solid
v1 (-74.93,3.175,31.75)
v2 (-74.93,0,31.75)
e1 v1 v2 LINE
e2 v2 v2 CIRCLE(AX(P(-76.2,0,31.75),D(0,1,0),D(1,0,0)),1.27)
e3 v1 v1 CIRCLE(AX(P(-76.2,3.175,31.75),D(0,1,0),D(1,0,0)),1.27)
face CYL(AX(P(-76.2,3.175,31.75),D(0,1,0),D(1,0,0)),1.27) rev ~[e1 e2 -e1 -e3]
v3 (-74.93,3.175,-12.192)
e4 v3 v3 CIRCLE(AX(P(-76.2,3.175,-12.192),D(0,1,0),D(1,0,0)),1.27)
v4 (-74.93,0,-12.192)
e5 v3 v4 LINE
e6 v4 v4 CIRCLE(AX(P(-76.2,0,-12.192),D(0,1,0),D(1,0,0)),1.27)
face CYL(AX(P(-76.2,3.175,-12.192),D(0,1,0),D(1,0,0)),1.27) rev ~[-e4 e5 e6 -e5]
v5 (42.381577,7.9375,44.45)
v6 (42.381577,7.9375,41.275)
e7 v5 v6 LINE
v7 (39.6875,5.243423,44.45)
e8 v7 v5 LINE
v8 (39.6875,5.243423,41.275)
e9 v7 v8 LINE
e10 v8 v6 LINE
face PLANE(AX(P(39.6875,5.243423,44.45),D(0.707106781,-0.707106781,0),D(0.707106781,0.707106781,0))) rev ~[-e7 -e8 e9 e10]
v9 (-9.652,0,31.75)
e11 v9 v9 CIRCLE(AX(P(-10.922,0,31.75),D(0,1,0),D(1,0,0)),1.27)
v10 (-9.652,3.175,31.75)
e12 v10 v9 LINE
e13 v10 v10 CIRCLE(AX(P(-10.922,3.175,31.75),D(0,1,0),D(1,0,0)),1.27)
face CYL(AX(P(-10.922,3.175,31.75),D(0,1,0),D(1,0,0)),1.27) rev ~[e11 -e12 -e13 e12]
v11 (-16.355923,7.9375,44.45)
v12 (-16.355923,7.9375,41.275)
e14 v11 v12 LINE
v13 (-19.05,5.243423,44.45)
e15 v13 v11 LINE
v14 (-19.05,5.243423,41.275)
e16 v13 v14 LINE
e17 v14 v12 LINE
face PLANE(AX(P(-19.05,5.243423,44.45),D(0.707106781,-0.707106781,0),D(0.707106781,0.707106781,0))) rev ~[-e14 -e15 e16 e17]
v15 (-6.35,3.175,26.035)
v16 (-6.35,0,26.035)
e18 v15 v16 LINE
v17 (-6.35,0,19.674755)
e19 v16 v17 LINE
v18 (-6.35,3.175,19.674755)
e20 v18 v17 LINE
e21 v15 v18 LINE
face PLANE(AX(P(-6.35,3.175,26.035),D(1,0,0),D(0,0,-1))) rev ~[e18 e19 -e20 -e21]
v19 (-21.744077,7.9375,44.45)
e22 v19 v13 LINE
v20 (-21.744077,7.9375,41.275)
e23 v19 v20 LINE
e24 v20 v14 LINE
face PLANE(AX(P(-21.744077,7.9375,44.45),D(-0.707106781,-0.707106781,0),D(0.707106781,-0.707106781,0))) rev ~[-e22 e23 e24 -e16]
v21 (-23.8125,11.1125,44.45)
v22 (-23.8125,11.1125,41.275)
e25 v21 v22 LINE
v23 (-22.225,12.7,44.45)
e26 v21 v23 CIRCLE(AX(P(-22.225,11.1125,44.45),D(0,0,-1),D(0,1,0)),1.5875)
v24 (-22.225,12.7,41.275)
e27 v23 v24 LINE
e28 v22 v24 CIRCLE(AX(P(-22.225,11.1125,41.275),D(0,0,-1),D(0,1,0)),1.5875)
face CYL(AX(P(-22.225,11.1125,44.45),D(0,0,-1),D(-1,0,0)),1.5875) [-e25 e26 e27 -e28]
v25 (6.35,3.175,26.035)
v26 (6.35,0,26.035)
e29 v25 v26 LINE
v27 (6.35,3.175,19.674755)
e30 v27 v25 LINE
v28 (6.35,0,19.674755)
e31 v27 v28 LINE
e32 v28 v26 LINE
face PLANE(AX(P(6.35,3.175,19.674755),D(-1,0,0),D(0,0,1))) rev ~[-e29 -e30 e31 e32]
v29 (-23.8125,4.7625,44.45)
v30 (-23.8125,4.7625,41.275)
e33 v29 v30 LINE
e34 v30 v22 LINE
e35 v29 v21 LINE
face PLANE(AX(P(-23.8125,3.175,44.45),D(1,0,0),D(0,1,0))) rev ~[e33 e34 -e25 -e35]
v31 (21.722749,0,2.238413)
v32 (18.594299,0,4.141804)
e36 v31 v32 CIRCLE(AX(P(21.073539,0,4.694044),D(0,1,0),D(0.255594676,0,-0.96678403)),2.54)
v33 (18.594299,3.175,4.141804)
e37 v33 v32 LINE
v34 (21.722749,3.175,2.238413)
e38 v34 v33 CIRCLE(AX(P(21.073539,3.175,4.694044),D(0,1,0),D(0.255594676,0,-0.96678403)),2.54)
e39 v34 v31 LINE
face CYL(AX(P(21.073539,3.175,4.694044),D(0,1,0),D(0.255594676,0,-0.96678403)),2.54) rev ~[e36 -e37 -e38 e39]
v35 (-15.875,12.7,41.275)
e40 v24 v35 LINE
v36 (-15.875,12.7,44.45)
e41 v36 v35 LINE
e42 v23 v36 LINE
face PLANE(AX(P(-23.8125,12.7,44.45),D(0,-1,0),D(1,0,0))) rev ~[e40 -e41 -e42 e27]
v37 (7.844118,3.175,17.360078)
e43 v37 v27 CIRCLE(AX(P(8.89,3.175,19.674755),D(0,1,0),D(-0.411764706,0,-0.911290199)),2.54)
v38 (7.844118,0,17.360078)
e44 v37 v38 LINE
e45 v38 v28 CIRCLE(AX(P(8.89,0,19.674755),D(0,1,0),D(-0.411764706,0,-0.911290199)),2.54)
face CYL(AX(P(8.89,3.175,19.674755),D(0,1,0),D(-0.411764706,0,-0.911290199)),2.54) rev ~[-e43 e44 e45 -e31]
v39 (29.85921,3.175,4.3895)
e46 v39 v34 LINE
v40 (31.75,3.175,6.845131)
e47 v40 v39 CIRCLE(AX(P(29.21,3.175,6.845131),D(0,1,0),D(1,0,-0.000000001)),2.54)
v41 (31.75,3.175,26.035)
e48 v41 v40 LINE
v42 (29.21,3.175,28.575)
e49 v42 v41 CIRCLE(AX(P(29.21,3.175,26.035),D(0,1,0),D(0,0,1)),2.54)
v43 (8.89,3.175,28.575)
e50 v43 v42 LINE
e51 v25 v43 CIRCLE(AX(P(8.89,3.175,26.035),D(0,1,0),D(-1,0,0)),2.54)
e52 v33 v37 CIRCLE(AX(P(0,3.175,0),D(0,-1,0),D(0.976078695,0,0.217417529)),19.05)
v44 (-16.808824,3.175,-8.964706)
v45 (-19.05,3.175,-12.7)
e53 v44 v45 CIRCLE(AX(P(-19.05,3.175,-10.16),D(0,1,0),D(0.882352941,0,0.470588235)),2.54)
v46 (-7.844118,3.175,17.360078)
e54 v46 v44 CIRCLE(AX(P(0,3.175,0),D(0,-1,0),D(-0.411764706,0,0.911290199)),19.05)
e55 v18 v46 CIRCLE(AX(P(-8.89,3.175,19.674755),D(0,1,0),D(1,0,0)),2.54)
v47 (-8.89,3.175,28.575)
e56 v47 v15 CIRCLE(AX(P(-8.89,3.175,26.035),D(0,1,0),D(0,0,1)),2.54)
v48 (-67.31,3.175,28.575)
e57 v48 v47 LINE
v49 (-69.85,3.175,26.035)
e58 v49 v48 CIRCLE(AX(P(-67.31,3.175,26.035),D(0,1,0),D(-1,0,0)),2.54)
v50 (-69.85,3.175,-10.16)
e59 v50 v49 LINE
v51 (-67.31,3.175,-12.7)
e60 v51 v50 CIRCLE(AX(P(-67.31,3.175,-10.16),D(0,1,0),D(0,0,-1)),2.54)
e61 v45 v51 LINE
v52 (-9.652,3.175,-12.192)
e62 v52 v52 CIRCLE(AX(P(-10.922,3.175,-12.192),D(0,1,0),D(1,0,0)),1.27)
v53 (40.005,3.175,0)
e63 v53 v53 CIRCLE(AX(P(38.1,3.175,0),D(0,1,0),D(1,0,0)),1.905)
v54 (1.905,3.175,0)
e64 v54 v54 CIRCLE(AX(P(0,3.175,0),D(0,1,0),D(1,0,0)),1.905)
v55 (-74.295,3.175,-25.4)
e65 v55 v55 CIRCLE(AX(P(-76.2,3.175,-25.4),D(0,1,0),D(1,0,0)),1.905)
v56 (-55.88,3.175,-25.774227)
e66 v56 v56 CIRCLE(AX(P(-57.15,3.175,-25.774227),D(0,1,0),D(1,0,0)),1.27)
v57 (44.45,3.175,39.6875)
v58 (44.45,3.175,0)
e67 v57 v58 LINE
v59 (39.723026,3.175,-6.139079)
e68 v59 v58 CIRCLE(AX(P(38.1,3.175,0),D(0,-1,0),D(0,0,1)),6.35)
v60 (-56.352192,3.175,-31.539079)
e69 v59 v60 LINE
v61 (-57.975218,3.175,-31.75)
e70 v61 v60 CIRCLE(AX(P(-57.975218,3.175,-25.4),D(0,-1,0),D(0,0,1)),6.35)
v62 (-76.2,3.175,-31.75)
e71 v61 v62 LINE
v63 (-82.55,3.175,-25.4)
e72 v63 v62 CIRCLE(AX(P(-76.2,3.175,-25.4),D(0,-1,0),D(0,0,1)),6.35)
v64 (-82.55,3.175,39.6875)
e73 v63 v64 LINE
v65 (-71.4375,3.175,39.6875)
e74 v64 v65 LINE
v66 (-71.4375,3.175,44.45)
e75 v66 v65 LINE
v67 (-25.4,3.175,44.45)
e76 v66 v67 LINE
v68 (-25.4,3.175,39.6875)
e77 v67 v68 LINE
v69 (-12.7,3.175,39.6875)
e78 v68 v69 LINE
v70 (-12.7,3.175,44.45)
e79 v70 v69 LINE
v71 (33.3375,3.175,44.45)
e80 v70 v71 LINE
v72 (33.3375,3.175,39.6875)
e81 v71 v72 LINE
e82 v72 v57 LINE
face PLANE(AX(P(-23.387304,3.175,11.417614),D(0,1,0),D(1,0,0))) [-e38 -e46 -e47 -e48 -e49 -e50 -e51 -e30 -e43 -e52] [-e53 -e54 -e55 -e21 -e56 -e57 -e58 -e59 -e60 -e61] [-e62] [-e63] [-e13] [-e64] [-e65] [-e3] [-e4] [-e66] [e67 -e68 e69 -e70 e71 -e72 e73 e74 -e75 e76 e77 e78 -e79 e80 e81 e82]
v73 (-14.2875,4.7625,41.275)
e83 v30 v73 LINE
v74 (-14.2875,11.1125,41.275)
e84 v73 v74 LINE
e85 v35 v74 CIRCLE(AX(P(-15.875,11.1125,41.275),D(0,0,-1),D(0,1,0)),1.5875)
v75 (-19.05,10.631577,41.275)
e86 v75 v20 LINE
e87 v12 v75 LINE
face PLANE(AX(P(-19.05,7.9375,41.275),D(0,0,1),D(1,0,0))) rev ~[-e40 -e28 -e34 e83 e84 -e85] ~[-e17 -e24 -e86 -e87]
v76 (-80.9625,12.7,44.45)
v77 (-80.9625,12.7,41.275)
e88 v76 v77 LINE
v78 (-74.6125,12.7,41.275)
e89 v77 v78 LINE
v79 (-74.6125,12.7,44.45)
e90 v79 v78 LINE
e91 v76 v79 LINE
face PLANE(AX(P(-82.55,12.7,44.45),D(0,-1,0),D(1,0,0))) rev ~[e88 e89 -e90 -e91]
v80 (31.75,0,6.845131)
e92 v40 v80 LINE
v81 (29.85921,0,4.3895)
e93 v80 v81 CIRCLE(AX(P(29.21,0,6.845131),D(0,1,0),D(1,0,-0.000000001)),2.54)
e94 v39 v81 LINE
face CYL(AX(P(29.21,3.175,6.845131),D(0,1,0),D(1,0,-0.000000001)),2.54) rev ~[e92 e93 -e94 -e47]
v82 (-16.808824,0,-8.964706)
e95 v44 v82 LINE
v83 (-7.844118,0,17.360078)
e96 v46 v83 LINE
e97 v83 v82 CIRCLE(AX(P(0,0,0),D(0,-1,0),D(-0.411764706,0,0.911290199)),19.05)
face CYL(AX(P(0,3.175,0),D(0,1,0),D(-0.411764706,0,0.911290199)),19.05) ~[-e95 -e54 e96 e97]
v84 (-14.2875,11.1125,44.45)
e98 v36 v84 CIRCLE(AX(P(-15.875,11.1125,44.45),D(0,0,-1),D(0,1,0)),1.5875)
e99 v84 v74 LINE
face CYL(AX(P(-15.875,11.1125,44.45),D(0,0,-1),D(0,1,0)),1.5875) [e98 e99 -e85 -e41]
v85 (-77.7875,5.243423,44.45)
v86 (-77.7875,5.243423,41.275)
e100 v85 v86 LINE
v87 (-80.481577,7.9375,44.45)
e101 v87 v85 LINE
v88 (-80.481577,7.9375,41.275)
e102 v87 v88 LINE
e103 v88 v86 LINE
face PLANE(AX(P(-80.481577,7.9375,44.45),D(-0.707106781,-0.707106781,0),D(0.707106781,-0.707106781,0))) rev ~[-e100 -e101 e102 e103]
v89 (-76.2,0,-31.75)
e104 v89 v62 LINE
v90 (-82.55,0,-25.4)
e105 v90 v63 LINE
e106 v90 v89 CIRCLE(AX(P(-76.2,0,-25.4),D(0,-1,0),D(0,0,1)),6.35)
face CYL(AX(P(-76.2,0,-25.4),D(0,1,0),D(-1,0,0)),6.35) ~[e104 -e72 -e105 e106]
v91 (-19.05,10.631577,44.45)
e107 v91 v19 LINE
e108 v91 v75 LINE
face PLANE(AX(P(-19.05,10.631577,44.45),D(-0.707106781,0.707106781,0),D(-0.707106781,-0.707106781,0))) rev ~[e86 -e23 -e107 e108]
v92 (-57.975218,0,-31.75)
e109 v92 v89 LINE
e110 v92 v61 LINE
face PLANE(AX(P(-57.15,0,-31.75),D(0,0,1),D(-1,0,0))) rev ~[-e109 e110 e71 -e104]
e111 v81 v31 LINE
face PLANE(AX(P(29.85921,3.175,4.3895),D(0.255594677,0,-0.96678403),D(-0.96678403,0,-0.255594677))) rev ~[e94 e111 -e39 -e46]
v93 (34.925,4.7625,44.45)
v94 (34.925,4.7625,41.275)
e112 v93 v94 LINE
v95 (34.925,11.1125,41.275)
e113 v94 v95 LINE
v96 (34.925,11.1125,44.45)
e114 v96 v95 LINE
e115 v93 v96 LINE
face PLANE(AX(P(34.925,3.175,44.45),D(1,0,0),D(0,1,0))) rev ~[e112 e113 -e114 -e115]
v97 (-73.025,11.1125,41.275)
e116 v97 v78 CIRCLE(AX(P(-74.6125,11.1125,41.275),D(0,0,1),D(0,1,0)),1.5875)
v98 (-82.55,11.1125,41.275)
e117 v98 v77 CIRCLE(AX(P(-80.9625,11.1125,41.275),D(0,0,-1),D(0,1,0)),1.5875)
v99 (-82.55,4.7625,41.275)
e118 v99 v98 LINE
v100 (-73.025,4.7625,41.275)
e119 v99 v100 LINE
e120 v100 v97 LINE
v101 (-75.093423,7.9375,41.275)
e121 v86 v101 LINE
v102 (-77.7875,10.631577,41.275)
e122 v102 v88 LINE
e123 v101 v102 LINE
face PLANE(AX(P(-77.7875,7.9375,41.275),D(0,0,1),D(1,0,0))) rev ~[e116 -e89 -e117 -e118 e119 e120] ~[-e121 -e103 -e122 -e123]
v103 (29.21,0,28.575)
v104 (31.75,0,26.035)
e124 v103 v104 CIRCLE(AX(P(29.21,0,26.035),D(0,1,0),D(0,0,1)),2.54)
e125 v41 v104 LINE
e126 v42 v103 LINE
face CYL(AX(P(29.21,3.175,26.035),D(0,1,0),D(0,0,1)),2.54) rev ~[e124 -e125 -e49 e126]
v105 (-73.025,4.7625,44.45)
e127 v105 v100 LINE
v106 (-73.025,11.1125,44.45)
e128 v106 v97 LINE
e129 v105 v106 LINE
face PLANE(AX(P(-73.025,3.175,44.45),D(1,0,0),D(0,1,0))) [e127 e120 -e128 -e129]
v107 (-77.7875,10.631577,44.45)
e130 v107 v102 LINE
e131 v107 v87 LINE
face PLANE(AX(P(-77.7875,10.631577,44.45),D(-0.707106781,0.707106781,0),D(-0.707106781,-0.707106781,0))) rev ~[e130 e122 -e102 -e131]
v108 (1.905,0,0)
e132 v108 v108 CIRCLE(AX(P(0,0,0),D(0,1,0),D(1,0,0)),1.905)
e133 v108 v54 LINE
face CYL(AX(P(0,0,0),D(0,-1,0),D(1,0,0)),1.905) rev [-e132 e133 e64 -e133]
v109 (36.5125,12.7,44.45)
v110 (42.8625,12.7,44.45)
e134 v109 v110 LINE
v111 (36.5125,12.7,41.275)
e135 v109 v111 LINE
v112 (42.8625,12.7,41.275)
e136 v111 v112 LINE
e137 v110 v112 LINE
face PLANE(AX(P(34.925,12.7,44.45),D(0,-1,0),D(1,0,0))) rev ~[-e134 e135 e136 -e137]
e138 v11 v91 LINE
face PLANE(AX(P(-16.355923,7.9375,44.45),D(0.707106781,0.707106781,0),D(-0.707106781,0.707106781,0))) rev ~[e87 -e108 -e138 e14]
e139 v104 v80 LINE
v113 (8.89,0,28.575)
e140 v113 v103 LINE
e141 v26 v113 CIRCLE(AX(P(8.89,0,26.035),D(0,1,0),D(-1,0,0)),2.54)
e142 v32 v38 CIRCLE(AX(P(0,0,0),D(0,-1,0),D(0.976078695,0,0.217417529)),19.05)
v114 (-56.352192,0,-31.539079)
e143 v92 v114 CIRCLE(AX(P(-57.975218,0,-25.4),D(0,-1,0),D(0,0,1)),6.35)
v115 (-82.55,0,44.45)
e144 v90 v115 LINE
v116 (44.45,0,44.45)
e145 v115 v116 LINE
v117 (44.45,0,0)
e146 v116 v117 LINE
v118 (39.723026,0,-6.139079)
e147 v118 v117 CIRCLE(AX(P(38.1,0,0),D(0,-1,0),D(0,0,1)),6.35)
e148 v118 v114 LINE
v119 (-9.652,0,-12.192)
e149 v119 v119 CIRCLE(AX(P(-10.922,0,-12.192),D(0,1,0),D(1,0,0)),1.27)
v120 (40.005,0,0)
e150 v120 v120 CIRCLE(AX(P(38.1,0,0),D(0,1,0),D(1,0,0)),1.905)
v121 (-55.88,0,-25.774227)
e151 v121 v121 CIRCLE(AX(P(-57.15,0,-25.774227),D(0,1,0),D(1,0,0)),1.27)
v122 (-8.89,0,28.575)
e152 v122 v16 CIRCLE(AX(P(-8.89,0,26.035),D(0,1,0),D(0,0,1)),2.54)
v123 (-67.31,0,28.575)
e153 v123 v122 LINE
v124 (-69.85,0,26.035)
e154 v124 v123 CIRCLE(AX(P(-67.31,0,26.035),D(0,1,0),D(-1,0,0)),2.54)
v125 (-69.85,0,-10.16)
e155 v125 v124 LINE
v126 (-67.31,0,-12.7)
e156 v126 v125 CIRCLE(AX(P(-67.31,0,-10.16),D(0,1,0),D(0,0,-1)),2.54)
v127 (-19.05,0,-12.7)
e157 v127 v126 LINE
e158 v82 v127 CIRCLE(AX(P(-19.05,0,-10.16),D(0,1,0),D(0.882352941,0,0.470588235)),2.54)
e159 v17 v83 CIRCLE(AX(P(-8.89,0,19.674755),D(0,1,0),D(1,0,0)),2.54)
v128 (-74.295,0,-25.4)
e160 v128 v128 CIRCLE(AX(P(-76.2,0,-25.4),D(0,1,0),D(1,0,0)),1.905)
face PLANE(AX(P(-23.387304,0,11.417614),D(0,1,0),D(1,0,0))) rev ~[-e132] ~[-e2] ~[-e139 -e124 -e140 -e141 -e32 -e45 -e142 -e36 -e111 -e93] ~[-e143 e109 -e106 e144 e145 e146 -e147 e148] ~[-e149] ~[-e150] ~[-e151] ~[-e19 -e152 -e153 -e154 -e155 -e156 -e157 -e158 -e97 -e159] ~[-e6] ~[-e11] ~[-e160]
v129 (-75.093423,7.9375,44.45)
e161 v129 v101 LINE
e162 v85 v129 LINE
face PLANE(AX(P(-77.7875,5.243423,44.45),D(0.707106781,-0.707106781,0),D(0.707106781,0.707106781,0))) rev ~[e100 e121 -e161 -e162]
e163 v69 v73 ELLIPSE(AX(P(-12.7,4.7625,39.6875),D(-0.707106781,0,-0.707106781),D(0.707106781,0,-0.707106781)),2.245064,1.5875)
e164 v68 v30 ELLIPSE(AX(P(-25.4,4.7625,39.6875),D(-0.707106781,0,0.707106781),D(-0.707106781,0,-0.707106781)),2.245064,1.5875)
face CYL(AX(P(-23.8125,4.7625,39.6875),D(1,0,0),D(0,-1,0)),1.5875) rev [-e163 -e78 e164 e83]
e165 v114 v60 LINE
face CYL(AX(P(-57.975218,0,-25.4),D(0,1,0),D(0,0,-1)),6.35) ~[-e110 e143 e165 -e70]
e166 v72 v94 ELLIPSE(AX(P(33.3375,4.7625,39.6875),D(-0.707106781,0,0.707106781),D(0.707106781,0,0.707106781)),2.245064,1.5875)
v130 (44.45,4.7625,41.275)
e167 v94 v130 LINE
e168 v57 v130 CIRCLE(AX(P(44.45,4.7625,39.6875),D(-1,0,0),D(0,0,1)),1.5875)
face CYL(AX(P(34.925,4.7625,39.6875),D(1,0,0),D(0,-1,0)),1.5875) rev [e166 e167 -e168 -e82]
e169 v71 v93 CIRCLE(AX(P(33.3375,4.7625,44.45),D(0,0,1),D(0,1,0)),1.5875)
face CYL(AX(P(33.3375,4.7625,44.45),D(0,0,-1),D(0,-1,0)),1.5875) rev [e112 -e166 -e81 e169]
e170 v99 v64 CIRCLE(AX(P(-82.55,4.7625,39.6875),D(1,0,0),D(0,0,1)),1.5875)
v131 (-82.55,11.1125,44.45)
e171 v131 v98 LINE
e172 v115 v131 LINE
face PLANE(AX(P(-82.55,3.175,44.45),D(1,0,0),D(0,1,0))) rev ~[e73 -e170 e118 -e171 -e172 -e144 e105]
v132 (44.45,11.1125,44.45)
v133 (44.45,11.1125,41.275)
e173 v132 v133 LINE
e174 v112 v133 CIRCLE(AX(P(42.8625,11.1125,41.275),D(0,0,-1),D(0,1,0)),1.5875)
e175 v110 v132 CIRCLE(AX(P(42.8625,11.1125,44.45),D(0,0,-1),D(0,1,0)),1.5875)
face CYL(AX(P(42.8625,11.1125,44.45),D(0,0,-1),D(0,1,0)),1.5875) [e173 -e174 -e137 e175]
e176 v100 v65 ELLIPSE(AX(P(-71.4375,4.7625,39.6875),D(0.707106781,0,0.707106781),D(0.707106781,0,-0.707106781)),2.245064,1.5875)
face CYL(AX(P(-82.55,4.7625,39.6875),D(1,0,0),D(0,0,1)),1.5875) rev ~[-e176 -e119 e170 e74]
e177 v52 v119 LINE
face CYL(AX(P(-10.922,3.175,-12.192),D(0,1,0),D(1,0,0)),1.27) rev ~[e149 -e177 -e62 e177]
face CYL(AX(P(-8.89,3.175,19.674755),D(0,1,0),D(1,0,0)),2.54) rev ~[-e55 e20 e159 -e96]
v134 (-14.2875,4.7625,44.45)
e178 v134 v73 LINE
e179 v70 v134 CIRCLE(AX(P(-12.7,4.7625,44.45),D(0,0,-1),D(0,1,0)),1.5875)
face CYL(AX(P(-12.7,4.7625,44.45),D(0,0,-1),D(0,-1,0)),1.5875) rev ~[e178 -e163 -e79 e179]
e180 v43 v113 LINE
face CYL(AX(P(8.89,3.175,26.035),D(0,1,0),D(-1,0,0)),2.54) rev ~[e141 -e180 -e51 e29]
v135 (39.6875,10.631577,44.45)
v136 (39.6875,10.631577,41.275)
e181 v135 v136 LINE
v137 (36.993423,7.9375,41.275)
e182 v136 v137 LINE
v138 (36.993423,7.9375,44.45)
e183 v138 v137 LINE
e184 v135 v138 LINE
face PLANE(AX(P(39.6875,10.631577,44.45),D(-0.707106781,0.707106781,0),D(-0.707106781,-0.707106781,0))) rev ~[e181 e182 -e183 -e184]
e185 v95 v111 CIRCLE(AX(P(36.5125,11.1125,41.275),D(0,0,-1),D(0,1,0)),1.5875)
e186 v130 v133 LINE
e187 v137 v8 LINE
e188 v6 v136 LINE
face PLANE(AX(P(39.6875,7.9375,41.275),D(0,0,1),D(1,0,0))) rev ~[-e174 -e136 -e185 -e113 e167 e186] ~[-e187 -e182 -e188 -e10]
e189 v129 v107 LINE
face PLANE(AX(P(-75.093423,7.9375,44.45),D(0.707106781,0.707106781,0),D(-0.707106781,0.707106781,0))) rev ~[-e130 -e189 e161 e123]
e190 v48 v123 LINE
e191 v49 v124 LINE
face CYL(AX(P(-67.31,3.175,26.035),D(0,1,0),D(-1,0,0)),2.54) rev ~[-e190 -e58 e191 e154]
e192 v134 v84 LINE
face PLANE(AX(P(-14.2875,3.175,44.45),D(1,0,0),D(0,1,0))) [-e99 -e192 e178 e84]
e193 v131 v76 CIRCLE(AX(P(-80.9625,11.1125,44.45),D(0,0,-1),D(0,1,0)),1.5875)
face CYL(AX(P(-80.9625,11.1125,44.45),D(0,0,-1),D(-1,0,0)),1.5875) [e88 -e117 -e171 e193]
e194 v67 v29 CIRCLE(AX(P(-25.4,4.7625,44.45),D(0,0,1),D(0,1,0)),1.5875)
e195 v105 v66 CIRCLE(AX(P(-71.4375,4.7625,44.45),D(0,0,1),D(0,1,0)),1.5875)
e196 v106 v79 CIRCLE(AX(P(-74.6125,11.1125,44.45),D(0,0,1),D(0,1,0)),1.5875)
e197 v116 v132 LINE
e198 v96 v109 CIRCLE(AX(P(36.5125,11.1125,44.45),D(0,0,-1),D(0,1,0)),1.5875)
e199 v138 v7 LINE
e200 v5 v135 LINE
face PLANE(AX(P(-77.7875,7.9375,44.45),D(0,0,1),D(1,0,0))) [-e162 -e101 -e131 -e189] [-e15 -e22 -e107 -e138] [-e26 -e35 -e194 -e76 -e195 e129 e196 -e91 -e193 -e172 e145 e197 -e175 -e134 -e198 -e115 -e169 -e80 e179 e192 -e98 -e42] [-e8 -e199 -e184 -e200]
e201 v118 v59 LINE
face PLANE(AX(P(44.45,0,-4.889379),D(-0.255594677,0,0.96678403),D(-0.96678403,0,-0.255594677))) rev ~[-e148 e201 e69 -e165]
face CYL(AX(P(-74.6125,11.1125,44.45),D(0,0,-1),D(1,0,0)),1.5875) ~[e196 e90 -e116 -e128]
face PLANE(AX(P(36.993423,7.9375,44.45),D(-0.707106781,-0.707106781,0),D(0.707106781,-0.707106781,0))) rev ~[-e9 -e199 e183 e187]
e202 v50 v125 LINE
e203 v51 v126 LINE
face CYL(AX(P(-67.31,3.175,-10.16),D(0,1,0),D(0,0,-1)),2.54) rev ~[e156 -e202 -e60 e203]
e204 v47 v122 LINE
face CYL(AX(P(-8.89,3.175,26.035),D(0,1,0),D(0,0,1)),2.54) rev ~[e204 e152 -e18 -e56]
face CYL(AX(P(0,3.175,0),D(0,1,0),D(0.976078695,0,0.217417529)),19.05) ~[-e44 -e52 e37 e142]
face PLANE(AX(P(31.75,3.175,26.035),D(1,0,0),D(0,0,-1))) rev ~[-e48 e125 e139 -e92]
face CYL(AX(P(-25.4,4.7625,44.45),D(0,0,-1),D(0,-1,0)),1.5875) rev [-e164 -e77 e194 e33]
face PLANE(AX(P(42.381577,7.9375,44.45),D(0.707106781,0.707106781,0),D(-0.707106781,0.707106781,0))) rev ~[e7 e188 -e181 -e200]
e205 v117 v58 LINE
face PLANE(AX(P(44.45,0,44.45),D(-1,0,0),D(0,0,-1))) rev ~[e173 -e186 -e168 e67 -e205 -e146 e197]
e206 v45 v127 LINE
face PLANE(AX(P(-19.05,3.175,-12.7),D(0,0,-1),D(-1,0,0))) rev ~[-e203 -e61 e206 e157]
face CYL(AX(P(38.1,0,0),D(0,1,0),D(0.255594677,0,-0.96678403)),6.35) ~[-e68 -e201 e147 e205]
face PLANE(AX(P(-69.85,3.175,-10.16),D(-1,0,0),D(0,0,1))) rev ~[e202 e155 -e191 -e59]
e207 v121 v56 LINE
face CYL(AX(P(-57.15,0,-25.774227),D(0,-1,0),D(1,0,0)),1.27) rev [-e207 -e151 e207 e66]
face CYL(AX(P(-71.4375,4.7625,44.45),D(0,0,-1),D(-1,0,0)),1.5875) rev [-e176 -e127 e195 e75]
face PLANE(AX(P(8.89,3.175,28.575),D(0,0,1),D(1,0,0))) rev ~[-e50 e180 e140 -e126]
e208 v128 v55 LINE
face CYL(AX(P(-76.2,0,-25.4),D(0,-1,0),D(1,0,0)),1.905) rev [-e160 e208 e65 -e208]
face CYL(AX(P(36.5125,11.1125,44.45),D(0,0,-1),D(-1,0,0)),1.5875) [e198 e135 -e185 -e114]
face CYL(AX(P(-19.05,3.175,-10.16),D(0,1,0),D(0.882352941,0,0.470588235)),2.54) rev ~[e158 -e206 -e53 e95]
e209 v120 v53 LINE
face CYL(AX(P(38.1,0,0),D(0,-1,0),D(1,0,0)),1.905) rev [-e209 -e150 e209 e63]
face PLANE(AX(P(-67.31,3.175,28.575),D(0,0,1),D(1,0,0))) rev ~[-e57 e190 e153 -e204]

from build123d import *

# Parameters (mm, degrees)
SKETCH1_R           = 1.905
SKETCH1_R_2         = 1.27
BOSS_EXTRUDE1_DEPTH = 3.175
SKETCH2_R           = 1.27
CUT_EXTRUDE1_DEPTH  = 3.175
FILLET1_R           = 6.35
SKETCH3_W           = 9.525
SKETCH3_H           = 9.525
BOSS_EXTRUDE2_DEPTH = 3.175
FILLET2_R           = 1.5875


with BuildPart() as part:
    # Sketch1 → Boss-Extrude1 (new body)
    with BuildSketch(Plane(origin=(0, 0, 0), x_dir=(1, 0, 0), z_dir=(0, 1, 0))):
        Polygon((-82.55, 31.75), (-82.55, -44.45), (44.45, -44.45), (44.45, 4.889379277), (-57.15, 31.75), align=None)
        Circle(SKETCH1_R, mode=Mode.SUBTRACT)
        with Locations((-57.15, 25.774227063)):
            Circle(SKETCH1_R_2, mode=Mode.SUBTRACT)
        with Locations((-76.2, 25.4)):
            Circle(SKETCH1_R, mode=Mode.SUBTRACT)
        with Locations((38.1, 0)):
            Circle(SKETCH1_R, mode=Mode.SUBTRACT)
    extrude(amount=BOSS_EXTRUDE1_DEPTH)

    # Sketch2 → Cut-Extrude1 (cut)
    with BuildSketch(Plane(origin=(0, 3.175, 0), x_dir=(1, 0, 0), z_dir=(0, 1, 0))):
        with Locations((-76.2, 12.192)):
            Circle(SKETCH2_R)
        with Locations((-10.922, 12.192)):
            Circle(SKETCH2_R)
        with Locations((-10.922, -31.75)):
            Circle(SKETCH2_R)
        with Locations((-76.2, -31.75)):
            Circle(SKETCH2_R)
        with BuildLine():
            Line((-69.85, 10.16), (-69.85, -26.035))
            ThreePointArc((-69.85, -26.035), (-69.106051224, -27.831051224), (-67.31, -28.575))
            Line((-67.31, -28.575), (-8.89, -28.575))
            ThreePointArc((-8.89, -28.575), (-7.093948776, -27.831051224), (-6.35, -26.035))
            Line((-6.35, -26.035), (-6.35, -19.674755399))
            ThreePointArc((-6.35, -19.674755399), (-6.755973152, -18.297246992), (-7.844117647, -17.360078293))
            ThreePointArc((-7.844117647, -17.360078293), (-18.033037532, -6.14101436), (-16.808823529, 8.964705882))
            ThreePointArc((-16.808823529, 8.964705882), (-16.871967969, 11.466819219), (-19.05, 12.7))
            Line((-19.05, 12.7), (-67.31, 12.7))
            ThreePointArc((-67.31, 12.7), (-69.106051224, 11.956051224), (-69.85, 10.16))
        make_face()
        with BuildLine():
            Line((6.35, -19.674755399), (6.35, -26.035))
            ThreePointArc((6.35, -26.035), (7.093948776, -27.831051224), (8.89, -28.575))
            Line((8.89, -28.575), (29.21, -28.575))
            ThreePointArc((29.21, -28.575), (31.006051224, -27.831051224), (31.75, -26.035))
            Line((31.75, -26.035), (31.75, -6.845130987))
            ThreePointArc((31.75, -6.845130987), (31.222535045, -5.295517264), (29.859210479, -4.38949955))
            Line((29.859210479, -4.38949955), (21.722749497, -2.23841301))
            ThreePointArc((21.722749497, -2.23841301), (19.753320798, -2.524108077), (18.594299133, -4.141803924))
            ThreePointArc((18.594299133, -4.141803924), (14.779315437, -12.019747718), (7.844117647, -17.360078293))
            ThreePointArc((7.844117647, -17.360078293), (6.755973152, -18.297246992), (6.35, -19.674755399))
        make_face()
    extrude(amount=-CUT_EXTRUDE1_DEPTH, mode=Mode.SUBTRACT)

    # Fillet1
    fillet1_edges = [part.edges().sort_by_distance(p)[0] for p in [
        (-57.15, 1.5875, -31.75),
        (44.45, 1.5875, -4.889379277),
        (-82.55, 1.5875, -31.75),
    ]]
    fillet(fillet1_edges, radius=FILLET1_R)

    # Sketch3 → Boss-Extrude2 (add)
    with BuildSketch(Plane.XY.offset(44.45)):
        with Locations((-77.7875, 7.9375)):
            Rectangle(SKETCH3_W, SKETCH3_H)
        Polygon((-77.7875, 5.243423164), (-75.093423164, 7.9375), (-77.7875, 10.631576836), (-80.481576836, 7.9375), align=None, mode=Mode.SUBTRACT)
        with Locations((39.6875, 7.9375)):
            Rectangle(SKETCH3_W, SKETCH3_H)
        Polygon((39.6875, 5.243423164), (42.381576836, 7.9375), (39.6875, 10.631576836), (36.993423164, 7.9375), align=None, mode=Mode.SUBTRACT)
        with Locations((-19.05, 7.9375)):
            Rectangle(SKETCH3_W, SKETCH3_H)
        Polygon((-19.05, 5.243423164), (-16.355923164, 7.9375), (-19.05, 10.631576836), (-21.744076836, 7.9375), align=None, mode=Mode.SUBTRACT)
    extrude(amount=-BOSS_EXTRUDE2_DEPTH)

    # Fillet2
    fillet2_edges = [part.edges().sort_by_distance(p)[0] for p in [
        (-82.55, 12.7, 42.8625),
        (-73.025, 12.7, 42.8625),
        (-77.7875, 3.175, 41.275),
        (-73.025, 3.175, 42.8625),
        (44.45, 12.7, 42.8625),
        (39.6875, 3.175, 41.275),
        (34.925, 3.175, 42.8625),
        (34.925, 12.7, 42.8625),
        (-23.8125, 3.175, 42.8625),
        (-23.8125, 12.7, 42.8625),
        (-14.2875, 12.7, 42.8625),
        (-19.05, 3.175, 41.275),
        (-14.2875, 3.175, 42.8625),
    ]]
    fillet(fillet2_edges, radius=FILLET2_R)


solid = part.part
